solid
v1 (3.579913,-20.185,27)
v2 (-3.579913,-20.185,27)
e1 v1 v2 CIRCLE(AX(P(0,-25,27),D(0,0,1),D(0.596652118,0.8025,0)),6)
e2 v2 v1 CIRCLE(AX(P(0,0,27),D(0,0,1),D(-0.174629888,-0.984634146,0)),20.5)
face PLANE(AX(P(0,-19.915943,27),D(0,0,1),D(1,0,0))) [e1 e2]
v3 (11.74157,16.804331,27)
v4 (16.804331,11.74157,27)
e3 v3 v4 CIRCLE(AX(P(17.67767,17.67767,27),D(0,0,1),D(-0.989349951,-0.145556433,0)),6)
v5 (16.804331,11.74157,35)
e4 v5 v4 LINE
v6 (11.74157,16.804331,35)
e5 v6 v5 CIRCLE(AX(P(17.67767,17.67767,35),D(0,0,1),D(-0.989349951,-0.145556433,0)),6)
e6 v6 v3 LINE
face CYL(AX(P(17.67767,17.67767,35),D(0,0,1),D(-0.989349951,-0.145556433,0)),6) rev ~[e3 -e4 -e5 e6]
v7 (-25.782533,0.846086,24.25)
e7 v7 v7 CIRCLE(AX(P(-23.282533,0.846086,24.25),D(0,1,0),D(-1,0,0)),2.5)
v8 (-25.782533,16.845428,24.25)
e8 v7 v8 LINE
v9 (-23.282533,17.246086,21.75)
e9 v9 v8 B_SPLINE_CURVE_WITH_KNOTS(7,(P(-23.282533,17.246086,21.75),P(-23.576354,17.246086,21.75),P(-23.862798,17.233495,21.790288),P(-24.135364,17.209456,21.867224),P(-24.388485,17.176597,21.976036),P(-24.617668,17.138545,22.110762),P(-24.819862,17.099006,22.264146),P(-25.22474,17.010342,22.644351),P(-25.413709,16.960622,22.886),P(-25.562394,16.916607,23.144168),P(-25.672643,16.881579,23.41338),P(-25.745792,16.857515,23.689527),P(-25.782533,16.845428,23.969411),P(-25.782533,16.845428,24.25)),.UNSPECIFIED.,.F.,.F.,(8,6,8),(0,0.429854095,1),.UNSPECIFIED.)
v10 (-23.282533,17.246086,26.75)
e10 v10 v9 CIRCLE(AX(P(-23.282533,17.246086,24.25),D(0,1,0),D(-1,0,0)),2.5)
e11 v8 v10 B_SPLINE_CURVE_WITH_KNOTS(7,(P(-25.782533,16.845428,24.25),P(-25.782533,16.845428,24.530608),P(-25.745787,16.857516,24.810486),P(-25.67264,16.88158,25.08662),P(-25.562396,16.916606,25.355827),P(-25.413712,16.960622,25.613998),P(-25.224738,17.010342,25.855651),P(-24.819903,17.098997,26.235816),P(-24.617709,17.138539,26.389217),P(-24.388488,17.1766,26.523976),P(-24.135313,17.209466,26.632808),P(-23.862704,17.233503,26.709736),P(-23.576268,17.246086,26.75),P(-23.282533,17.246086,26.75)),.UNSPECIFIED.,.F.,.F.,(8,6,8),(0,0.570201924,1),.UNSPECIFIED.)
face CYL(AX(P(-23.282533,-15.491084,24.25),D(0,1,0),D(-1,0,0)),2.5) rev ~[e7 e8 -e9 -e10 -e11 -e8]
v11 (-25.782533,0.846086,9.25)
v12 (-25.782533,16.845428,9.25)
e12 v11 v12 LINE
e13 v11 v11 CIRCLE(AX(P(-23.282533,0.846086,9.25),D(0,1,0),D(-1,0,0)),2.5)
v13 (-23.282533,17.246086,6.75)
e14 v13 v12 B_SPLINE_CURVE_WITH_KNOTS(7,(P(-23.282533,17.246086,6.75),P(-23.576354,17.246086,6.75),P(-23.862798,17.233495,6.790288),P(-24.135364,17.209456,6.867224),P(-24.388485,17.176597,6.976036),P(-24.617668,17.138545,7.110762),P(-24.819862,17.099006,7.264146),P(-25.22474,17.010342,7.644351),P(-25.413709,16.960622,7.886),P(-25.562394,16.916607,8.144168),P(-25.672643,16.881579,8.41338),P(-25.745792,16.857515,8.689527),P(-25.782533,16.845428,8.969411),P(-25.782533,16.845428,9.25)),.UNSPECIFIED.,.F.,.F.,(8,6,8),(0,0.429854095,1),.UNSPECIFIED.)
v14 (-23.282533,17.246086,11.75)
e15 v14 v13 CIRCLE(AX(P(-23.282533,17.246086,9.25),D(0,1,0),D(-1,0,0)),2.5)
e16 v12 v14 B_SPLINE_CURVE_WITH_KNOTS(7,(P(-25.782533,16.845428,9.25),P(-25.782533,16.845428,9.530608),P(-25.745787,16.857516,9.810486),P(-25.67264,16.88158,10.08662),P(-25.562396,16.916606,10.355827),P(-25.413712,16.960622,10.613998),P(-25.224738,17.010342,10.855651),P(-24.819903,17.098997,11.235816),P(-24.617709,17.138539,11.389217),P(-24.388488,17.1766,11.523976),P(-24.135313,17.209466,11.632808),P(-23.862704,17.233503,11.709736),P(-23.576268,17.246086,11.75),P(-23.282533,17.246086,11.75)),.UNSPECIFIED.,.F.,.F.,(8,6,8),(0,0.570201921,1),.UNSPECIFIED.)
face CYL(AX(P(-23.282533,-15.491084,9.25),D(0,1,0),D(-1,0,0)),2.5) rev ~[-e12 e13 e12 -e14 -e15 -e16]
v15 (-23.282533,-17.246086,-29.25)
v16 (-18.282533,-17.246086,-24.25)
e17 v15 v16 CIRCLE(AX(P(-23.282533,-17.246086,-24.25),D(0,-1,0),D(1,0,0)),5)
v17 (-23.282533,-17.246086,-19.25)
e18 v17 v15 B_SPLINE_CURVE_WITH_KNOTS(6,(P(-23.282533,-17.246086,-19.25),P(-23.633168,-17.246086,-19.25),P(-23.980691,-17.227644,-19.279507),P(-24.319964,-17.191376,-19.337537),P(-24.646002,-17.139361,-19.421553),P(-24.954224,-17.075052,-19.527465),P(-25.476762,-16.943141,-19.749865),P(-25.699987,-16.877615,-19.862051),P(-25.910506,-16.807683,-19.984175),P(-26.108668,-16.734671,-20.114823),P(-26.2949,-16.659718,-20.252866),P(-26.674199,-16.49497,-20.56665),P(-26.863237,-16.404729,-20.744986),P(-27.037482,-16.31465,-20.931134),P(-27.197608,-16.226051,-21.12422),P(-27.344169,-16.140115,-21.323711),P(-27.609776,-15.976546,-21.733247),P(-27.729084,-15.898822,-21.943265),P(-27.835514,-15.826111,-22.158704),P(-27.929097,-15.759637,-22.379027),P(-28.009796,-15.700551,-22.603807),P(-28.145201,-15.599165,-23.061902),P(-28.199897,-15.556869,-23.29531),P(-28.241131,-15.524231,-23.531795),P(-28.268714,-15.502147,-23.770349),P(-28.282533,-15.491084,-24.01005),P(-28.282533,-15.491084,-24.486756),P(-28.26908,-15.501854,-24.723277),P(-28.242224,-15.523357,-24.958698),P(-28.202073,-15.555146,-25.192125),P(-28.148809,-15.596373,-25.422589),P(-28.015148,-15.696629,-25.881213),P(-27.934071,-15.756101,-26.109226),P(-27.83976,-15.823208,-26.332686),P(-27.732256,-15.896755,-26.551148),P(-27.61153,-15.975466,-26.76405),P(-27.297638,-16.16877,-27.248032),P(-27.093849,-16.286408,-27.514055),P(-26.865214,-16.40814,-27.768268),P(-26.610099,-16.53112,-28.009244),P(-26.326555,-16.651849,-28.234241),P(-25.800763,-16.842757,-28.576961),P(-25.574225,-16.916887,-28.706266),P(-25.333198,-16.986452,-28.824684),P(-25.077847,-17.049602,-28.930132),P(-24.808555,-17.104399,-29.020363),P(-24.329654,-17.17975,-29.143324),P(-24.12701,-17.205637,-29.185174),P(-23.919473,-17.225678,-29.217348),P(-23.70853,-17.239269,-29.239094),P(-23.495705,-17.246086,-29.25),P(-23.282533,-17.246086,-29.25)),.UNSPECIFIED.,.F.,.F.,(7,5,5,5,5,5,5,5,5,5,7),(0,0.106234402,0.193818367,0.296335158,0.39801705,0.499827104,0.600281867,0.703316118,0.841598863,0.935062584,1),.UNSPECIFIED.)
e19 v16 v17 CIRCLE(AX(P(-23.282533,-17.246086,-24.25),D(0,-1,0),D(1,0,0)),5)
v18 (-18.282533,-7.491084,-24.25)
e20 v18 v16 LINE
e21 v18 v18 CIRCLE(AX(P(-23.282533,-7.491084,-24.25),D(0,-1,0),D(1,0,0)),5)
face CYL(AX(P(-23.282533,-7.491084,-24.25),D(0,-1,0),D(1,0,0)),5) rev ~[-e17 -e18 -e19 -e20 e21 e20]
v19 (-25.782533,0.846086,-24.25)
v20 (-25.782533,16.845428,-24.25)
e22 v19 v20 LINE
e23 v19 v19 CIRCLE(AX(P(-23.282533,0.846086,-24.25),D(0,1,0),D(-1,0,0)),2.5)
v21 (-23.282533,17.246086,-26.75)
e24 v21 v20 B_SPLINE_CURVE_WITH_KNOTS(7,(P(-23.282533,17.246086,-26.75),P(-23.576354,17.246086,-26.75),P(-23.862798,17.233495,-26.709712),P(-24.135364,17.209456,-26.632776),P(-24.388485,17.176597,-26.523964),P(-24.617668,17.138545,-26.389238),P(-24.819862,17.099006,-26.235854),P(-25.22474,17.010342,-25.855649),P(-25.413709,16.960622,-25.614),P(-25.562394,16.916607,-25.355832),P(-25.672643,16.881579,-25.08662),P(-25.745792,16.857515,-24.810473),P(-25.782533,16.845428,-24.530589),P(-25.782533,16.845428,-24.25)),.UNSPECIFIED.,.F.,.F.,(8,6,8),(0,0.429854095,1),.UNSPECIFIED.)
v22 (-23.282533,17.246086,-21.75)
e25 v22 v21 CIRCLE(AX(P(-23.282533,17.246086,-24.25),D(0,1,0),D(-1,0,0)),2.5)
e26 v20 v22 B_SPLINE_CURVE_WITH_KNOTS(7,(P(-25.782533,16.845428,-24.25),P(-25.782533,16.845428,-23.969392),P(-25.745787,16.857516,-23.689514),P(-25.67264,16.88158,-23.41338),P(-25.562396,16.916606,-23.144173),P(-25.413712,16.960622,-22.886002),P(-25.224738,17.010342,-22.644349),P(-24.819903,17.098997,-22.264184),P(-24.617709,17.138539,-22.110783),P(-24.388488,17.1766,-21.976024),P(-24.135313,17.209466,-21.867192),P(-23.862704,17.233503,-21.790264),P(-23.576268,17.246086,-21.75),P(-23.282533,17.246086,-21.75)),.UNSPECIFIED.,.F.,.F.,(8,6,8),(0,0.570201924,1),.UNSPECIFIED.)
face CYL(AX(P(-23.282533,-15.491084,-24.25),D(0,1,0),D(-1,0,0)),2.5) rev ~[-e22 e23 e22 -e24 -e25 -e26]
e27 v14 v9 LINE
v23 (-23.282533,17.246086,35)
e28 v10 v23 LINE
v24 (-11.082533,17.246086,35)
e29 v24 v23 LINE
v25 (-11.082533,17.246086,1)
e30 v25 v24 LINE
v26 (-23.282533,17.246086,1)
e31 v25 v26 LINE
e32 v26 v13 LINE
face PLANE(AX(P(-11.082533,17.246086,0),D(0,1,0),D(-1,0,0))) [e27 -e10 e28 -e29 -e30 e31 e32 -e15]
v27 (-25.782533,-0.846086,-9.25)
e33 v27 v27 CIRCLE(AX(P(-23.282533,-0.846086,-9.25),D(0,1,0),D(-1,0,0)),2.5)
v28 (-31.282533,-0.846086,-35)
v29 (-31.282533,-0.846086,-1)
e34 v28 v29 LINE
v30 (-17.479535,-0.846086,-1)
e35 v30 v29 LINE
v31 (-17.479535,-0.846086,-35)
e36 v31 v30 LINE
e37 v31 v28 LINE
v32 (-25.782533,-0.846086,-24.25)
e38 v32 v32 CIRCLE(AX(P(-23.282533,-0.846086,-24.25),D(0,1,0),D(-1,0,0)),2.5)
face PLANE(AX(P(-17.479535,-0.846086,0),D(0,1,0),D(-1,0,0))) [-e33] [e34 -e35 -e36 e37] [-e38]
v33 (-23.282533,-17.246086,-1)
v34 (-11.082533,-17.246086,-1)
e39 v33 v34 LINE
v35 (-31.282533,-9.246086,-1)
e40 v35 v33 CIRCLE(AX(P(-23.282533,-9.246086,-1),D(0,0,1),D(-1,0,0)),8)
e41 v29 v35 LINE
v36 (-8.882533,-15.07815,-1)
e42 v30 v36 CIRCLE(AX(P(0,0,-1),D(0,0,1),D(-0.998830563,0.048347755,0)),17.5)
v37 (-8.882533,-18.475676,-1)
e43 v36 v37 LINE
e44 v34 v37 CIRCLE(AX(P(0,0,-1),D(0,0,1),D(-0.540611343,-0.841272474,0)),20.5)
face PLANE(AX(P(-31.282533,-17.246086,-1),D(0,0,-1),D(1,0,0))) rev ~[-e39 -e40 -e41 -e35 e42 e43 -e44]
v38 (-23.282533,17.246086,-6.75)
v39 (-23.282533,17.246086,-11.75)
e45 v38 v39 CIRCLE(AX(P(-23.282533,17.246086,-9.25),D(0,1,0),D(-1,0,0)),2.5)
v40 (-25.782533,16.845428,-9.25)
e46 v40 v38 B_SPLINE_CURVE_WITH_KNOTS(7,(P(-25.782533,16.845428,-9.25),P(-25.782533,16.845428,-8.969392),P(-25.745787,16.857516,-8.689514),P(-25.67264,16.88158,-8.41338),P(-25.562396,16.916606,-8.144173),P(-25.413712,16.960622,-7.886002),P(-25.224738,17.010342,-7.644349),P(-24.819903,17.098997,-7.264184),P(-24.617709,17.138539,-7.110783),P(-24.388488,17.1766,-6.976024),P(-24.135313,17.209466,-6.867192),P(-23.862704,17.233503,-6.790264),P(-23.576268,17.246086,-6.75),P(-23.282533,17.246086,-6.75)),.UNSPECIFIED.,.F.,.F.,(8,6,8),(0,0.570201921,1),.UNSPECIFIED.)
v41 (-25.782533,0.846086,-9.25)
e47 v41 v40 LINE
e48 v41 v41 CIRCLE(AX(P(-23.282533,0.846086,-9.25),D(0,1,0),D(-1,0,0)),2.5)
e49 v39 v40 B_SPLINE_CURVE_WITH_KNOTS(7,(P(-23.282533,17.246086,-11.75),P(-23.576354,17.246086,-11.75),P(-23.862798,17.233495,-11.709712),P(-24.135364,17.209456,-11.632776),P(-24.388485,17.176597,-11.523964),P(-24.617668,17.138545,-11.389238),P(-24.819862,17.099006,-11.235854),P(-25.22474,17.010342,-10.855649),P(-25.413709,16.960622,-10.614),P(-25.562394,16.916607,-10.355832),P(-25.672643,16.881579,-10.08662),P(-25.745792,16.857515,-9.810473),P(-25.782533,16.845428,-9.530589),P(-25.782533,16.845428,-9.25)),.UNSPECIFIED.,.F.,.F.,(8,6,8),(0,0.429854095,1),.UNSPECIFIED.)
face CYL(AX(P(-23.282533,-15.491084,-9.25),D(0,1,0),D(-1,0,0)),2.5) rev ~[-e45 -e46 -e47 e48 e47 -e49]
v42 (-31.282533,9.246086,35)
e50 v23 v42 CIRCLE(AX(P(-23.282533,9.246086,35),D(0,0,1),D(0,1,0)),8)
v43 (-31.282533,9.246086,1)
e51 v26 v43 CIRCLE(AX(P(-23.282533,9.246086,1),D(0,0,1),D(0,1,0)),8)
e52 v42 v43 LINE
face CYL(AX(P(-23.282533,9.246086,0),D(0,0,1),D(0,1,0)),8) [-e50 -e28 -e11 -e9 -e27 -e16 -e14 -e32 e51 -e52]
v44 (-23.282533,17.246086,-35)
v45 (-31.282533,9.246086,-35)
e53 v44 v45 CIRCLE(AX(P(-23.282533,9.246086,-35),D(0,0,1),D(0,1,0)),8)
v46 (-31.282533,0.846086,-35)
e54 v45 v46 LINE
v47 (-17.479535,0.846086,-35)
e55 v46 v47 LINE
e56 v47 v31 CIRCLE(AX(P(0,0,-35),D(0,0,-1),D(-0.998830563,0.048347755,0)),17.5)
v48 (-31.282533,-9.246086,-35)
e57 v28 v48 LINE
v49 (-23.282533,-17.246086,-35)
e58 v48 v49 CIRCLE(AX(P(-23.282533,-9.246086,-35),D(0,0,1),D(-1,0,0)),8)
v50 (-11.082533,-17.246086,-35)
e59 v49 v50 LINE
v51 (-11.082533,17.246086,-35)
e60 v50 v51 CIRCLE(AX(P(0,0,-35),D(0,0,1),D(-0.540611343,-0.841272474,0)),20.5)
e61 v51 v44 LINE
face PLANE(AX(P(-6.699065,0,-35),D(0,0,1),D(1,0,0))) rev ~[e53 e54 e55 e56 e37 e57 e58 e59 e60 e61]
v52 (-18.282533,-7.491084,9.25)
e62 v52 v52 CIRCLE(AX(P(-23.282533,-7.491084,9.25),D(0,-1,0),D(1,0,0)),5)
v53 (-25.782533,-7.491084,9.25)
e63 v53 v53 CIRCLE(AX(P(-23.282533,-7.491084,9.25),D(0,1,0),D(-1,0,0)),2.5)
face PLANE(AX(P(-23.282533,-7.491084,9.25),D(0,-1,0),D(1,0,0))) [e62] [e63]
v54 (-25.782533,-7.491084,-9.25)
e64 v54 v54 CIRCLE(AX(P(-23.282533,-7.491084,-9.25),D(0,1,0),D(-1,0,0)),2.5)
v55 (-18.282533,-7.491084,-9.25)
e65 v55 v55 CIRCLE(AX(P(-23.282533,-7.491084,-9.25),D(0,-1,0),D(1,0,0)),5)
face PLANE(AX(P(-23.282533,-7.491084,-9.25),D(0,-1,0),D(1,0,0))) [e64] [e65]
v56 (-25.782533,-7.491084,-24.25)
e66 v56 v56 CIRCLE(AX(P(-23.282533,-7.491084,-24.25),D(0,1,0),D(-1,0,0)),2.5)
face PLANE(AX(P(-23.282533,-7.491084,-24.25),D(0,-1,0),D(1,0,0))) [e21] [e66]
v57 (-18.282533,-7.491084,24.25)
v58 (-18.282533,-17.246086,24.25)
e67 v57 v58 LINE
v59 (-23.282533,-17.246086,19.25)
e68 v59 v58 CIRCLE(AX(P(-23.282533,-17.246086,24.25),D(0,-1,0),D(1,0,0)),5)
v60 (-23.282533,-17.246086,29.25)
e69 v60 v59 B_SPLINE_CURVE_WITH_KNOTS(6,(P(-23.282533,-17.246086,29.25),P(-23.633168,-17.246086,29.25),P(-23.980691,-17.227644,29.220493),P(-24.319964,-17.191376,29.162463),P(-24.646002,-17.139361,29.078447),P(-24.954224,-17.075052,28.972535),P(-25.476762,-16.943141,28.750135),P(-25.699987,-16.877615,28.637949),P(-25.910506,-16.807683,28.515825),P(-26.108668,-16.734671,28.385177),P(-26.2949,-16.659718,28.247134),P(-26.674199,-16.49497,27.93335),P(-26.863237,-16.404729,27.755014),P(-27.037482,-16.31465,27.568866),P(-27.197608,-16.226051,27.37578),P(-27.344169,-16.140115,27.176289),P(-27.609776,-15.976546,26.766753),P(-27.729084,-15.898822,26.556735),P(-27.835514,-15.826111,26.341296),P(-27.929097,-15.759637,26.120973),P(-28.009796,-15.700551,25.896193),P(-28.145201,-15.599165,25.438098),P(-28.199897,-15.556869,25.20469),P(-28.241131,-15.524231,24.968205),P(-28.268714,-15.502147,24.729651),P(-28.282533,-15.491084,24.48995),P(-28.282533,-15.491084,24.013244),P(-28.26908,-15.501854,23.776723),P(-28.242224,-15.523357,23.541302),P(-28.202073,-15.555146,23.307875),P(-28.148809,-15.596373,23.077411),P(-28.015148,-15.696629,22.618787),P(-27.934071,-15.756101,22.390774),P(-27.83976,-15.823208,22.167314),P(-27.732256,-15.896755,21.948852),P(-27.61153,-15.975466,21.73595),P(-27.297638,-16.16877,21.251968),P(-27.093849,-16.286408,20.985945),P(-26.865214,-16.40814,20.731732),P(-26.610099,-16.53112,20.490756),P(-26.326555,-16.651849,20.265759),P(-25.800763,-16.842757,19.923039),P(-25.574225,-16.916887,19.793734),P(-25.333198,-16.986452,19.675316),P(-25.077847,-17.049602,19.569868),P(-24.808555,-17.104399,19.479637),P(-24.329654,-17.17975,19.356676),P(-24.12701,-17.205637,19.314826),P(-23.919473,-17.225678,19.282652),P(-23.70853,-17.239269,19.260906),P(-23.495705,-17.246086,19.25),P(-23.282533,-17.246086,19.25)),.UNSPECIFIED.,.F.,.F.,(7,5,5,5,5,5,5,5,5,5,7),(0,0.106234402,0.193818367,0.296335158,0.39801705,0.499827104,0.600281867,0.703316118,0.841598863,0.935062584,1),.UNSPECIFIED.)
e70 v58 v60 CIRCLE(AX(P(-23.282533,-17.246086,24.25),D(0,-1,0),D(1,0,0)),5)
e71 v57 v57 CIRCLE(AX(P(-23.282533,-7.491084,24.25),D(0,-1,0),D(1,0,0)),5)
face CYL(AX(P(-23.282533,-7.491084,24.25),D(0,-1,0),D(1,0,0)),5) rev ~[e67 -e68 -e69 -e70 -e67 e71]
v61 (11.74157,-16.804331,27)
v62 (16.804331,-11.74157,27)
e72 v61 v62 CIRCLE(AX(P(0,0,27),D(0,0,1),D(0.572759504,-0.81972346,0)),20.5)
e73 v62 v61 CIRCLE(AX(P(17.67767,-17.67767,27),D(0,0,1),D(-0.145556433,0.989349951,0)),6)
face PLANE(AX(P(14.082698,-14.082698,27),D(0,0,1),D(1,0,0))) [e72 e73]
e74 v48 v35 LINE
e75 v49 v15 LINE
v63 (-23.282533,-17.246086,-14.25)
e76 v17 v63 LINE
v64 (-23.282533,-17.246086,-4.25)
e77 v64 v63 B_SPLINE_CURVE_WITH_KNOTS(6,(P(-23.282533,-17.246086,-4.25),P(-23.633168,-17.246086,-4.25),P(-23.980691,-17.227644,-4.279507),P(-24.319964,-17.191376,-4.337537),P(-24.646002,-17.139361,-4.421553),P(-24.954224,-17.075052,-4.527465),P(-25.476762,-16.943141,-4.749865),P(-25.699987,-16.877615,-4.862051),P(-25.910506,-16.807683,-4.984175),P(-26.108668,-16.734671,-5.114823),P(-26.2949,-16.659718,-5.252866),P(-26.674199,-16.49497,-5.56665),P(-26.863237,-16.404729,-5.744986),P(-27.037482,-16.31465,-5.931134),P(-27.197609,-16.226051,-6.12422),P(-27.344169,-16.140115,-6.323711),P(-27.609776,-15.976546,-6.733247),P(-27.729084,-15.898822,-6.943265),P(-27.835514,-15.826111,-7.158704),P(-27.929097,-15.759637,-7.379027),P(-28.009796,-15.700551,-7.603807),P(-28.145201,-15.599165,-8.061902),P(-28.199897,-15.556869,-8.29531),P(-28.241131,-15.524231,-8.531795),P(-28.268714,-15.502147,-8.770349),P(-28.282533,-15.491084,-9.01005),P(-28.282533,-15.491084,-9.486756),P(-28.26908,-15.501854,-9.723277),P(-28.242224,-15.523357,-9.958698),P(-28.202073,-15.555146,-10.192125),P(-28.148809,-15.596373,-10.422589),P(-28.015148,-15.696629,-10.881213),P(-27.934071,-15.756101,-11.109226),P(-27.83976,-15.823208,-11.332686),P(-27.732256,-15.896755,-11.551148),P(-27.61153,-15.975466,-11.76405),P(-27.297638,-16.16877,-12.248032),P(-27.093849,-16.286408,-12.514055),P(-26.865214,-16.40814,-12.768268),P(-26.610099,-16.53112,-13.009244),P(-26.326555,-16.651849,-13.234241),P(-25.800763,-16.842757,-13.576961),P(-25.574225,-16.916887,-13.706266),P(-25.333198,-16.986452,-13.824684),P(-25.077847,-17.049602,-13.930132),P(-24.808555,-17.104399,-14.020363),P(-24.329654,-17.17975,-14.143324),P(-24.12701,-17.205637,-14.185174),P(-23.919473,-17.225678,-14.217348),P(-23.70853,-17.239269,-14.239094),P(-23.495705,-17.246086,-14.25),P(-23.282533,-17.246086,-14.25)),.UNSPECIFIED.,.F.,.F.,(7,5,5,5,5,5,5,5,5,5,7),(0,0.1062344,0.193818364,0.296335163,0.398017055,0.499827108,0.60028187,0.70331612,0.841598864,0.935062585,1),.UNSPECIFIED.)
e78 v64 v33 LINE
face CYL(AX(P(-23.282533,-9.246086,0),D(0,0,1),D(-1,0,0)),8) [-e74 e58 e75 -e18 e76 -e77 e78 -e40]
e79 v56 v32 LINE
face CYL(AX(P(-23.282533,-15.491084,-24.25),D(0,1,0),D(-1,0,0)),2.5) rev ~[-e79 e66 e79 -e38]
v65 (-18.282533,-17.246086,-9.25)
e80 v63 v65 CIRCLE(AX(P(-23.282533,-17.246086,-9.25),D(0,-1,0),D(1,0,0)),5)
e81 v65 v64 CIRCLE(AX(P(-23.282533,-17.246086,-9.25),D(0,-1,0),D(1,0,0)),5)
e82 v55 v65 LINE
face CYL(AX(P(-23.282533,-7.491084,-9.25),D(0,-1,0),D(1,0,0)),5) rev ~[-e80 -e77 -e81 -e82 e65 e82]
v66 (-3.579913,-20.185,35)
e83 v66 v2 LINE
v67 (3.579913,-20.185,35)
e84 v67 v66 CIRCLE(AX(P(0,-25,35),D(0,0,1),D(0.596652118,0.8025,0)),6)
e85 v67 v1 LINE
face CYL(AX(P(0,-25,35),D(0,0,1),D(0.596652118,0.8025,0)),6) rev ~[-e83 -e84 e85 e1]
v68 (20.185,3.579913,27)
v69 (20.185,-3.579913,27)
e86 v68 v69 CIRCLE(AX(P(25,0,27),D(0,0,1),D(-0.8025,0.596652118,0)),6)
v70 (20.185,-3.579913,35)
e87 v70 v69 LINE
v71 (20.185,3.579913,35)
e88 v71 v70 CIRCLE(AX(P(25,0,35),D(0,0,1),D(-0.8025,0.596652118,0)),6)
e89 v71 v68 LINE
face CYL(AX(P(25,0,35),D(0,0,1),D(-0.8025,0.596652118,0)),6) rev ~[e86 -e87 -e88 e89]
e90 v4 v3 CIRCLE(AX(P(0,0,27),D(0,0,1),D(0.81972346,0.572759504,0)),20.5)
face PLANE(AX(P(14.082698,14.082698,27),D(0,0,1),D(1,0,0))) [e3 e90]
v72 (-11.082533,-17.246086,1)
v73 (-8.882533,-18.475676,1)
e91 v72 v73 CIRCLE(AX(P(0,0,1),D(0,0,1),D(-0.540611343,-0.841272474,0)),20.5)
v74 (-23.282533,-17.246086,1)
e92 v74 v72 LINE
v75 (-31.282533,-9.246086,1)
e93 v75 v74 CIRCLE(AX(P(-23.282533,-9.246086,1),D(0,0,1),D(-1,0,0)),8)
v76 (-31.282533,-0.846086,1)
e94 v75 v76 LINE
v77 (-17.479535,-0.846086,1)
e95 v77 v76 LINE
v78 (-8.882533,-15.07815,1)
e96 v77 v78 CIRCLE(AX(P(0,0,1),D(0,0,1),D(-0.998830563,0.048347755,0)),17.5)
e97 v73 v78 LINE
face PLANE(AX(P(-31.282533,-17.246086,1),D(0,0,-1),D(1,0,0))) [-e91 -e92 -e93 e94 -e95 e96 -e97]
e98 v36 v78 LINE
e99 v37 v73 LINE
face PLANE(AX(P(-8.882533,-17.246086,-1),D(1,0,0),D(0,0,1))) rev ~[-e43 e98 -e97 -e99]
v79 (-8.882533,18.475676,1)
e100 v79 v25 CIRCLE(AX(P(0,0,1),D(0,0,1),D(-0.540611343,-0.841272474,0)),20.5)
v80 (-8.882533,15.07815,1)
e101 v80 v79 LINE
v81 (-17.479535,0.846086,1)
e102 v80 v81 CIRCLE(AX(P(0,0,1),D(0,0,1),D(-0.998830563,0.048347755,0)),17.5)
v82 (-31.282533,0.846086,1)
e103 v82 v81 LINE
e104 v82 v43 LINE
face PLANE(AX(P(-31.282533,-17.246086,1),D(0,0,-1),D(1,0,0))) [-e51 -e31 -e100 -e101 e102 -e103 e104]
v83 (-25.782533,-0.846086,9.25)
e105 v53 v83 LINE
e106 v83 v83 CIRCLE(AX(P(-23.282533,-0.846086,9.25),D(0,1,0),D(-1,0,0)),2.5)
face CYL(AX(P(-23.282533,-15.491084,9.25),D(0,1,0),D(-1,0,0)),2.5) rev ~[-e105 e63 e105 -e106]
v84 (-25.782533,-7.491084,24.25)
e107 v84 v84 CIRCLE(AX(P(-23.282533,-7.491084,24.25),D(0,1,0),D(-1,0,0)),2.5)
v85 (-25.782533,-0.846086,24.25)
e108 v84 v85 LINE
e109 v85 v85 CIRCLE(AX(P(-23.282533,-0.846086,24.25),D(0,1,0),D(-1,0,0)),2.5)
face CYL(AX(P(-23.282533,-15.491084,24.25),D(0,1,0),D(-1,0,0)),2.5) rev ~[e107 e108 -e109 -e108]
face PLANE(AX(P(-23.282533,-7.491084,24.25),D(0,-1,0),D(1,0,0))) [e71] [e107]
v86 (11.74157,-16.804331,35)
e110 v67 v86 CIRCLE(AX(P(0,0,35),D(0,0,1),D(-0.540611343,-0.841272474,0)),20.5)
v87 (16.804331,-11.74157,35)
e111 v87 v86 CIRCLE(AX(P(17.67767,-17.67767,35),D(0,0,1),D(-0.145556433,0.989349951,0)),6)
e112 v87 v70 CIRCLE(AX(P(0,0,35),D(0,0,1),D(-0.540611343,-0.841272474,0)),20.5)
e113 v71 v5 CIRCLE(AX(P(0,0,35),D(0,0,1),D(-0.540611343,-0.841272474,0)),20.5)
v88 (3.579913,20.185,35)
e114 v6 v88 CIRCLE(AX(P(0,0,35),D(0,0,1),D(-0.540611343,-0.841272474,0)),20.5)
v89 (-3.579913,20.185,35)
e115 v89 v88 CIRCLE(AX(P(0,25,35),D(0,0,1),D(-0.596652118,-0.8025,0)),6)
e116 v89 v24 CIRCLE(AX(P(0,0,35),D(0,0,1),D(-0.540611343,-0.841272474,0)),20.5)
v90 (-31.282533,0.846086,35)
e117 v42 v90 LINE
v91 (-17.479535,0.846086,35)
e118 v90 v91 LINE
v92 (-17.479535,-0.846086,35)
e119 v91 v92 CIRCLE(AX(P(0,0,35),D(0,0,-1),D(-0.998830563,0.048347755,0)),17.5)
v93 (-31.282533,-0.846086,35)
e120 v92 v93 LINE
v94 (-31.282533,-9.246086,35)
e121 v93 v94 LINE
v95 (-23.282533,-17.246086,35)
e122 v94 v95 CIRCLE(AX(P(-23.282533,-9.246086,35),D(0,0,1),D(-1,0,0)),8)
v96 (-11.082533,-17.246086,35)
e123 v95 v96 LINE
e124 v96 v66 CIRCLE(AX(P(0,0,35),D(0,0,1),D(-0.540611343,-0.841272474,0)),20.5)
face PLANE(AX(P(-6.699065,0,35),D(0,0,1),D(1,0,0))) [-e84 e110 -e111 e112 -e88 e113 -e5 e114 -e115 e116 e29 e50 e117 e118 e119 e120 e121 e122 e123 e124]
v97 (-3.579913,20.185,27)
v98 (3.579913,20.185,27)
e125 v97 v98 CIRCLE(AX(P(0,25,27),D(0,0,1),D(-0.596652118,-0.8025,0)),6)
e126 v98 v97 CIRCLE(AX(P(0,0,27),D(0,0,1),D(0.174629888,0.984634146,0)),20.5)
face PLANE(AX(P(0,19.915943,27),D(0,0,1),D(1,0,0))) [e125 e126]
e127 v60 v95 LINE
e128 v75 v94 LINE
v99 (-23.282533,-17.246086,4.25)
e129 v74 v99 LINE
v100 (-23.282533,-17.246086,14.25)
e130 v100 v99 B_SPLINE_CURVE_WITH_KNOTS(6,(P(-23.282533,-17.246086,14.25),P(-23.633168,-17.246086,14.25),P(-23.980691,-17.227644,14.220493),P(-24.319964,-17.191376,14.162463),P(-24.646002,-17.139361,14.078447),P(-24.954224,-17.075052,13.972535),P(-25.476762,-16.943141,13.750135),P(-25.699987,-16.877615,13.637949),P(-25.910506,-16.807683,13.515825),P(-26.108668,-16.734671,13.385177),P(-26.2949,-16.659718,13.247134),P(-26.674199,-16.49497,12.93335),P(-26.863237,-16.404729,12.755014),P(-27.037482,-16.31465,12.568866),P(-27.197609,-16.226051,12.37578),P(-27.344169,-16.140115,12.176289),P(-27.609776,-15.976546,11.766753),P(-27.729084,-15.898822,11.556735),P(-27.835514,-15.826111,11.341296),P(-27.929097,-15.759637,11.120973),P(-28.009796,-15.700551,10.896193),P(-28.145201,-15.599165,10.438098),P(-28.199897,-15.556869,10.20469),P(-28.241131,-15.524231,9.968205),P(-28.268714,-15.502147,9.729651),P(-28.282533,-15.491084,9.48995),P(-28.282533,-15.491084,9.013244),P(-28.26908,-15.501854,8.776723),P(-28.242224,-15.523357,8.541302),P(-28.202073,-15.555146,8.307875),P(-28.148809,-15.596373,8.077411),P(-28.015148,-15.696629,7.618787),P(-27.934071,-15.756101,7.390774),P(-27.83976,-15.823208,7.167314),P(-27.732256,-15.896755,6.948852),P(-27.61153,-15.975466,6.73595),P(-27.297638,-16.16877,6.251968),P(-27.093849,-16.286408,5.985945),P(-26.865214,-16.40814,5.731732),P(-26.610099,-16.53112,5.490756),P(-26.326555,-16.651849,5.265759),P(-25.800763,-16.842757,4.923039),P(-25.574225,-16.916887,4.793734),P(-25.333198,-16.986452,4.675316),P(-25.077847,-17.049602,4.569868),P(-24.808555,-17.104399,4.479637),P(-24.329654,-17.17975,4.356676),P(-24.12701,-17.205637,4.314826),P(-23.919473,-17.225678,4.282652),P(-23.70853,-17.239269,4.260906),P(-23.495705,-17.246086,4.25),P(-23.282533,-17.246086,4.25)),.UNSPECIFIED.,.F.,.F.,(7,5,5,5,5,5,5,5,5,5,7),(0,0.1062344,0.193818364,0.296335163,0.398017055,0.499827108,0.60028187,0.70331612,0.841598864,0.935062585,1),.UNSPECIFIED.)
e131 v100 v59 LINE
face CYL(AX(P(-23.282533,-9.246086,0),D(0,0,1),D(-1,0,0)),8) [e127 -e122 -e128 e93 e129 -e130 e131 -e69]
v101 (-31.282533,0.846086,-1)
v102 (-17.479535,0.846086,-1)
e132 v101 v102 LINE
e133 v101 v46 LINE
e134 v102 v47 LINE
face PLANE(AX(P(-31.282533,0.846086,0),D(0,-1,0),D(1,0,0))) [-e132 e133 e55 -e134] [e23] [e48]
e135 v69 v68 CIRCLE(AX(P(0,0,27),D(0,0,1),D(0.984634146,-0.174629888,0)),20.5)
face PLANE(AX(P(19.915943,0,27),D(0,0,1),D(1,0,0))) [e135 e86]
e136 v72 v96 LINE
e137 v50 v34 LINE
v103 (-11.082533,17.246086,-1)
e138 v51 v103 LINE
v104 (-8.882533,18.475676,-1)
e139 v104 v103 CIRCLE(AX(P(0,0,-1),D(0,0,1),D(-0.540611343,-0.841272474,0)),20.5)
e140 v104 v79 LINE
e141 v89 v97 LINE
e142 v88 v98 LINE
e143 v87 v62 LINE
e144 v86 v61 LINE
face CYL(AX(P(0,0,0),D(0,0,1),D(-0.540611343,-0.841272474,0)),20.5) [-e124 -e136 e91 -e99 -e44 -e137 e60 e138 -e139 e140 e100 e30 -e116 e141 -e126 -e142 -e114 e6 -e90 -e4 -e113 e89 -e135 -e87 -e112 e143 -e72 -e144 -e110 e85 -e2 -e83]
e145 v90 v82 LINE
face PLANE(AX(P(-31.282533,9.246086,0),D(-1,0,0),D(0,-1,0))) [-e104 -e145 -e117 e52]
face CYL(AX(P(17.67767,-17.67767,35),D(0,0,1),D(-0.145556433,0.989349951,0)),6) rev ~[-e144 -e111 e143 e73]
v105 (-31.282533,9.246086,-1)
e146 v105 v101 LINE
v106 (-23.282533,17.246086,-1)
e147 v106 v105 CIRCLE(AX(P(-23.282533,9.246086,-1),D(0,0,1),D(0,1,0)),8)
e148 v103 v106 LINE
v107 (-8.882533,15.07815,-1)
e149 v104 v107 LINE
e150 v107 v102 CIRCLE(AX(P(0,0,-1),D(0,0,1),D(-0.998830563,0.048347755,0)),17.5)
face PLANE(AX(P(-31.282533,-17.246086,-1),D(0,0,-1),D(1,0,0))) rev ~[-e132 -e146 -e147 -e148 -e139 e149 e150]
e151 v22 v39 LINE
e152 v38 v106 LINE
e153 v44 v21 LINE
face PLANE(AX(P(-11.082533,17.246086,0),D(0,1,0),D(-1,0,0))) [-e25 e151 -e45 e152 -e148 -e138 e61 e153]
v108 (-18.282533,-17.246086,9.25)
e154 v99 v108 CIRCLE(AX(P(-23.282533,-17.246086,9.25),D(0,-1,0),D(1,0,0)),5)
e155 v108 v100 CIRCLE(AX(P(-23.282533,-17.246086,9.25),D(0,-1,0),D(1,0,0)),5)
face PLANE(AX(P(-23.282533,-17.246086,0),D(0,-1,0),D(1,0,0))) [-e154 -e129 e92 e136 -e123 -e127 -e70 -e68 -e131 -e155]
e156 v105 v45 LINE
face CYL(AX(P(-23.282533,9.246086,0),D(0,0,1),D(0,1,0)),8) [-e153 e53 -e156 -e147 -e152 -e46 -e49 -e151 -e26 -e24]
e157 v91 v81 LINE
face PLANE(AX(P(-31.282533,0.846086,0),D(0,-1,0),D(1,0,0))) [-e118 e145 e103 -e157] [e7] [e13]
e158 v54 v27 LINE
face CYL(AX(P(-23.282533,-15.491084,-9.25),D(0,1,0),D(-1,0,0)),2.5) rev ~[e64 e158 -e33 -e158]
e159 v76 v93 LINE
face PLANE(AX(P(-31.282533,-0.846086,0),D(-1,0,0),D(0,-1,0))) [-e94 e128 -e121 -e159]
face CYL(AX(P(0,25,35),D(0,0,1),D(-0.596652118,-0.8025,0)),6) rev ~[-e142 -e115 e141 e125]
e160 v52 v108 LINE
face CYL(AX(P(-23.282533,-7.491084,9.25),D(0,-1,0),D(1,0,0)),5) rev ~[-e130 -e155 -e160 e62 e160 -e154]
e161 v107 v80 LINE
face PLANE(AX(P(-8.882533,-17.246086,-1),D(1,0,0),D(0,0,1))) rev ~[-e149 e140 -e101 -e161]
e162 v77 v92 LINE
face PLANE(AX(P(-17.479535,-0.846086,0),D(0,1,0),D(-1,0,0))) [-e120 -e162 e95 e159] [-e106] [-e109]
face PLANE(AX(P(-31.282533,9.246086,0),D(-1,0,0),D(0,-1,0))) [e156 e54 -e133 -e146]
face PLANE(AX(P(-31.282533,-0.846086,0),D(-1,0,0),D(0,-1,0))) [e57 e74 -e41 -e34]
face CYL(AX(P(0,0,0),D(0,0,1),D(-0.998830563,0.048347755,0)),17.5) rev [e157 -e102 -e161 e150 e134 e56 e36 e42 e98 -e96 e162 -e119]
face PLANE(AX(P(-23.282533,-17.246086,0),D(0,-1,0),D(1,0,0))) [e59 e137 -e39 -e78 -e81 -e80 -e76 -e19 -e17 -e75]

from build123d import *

# Parameters (mm, degrees)
F1_DEPTH       = 35
F3_D           = 5
F3_START       = 1.7550021
F3_CBORE_D     = 10
F3_CBORE_DEPTH = 8
F4_W           = 22.4
F4_H           = 2
F5_DEPTH       = 350
F7_DEPTH       = 8


with BuildPart() as f1:
    # F0 (on Top) → F1 (new body, symmetric)
    with BuildSketch(Plane.XY):
        with BuildLine():
            ThreePointArc((-17.4795348609, 0.84608572), (17.5, 0), (-17.4795348609, -0.84608572))
            Line((-17.4795348609, -0.84608572), (-20.4825325327, -0.84608572))
            Line((-20.4825325327, -0.84608572), (-31.2825325327, -0.84608572))
            Line((-31.2825325327, -0.84608572), (-31.2825325327, -9.24608572))
            ThreePointArc((-31.2825325327, -9.24608572), (-28.9393867822, -14.9029399695), (-23.2825325327, -17.24608572))
            Line((-23.2825325327, -17.24608572), (-11.0825325327, -17.24608572))
            ThreePointArc((-11.0825325327, -17.24608572), (20.5, 0), (-11.0825325327, 17.24608572))
            Line((-11.0825325327, 17.24608572), (-23.2825325327, 17.24608572))
            ThreePointArc((-23.2825325327, 17.24608572), (-28.9393867822, 14.9029399695), (-31.2825325327, 9.24608572))
            Line((-31.2825325327, 9.24608572), (-31.2825325327, 0.84608572))
            Line((-31.2825325327, 0.84608572), (-20.4825325327, 0.84608572))
            Line((-20.4825325327, 0.84608572), (-17.4795348609, 0.84608572))
        make_face()
    extrude(amount=F1_DEPTH, both=True)

    # F3 (through all)
    # its depths count from where the whole tool has entered the part; down to there all is cleared
    with Locations(Plane.XZ.offset(17.24608572).offset(-F3_START)):
        with Locations((-23.2825325327, -24.25), (-23.2825325327, -9.25), (-23.2825325327, 9.25), (-23.2825325327, 24.25)):
            CounterBoreHole(F3_D / 2, F3_CBORE_D / 2, F3_CBORE_DEPTH)

    # F4 (on face) → F5 (cut, symmetric)
    with BuildSketch(Plane.XZ.offset(17.24608572)):
        with Locations((-20.0825325327, 0)):
            Rectangle(F4_W, F4_H)
    extrude(amount=F5_DEPTH, both=True, mode=Mode.SUBTRACT)

    # F6 (on face) → F7 (cut)
    with BuildSketch(Plane.XY.offset(35)):
        with BuildLine():
            ThreePointArc((-3.5799127084, -20.185), (0, -20.5), (3.5799127084, -20.185))
            ThreePointArc((3.5799127084, -20.185), (0, -19), (-3.5799127084, -20.185))
        make_face()
        with BuildLine():
            ThreePointArc((16.8043309304, -11.7415698261), (13.4350288425, -13.4350288425), (11.7415698261, -16.8043309304))
            ThreePointArc((11.7415698261, -16.8043309304), (14.4956890143, -14.4956890143), (16.8043309304, -11.7415698261))
        make_face()
        with BuildLine():
            ThreePointArc((20.185, 3.5799127084), (19, 0), (20.185, -3.5799127084))
            ThreePointArc((20.185, -3.5799127084), (20.5, 0), (20.185, 3.5799127084))
        make_face()
        with BuildLine():
            ThreePointArc((11.7415698261, 16.8043309304), (13.4350288425, 13.4350288425), (16.8043309304, 11.7415698261))
            ThreePointArc((16.8043309304, 11.7415698261), (14.4956890143, 14.4956890143), (11.7415698261, 16.8043309304))
        make_face()
        with BuildLine():
            ThreePointArc((-3.5799127084, 20.185), (0, 19), (3.5799127084, 20.185))
            ThreePointArc((3.5799127084, 20.185), (0, 20.5), (-3.5799127084, 20.185))
        make_face()
    extrude(amount=-F7_DEPTH, mode=Mode.SUBTRACT)


solid = f1.part
